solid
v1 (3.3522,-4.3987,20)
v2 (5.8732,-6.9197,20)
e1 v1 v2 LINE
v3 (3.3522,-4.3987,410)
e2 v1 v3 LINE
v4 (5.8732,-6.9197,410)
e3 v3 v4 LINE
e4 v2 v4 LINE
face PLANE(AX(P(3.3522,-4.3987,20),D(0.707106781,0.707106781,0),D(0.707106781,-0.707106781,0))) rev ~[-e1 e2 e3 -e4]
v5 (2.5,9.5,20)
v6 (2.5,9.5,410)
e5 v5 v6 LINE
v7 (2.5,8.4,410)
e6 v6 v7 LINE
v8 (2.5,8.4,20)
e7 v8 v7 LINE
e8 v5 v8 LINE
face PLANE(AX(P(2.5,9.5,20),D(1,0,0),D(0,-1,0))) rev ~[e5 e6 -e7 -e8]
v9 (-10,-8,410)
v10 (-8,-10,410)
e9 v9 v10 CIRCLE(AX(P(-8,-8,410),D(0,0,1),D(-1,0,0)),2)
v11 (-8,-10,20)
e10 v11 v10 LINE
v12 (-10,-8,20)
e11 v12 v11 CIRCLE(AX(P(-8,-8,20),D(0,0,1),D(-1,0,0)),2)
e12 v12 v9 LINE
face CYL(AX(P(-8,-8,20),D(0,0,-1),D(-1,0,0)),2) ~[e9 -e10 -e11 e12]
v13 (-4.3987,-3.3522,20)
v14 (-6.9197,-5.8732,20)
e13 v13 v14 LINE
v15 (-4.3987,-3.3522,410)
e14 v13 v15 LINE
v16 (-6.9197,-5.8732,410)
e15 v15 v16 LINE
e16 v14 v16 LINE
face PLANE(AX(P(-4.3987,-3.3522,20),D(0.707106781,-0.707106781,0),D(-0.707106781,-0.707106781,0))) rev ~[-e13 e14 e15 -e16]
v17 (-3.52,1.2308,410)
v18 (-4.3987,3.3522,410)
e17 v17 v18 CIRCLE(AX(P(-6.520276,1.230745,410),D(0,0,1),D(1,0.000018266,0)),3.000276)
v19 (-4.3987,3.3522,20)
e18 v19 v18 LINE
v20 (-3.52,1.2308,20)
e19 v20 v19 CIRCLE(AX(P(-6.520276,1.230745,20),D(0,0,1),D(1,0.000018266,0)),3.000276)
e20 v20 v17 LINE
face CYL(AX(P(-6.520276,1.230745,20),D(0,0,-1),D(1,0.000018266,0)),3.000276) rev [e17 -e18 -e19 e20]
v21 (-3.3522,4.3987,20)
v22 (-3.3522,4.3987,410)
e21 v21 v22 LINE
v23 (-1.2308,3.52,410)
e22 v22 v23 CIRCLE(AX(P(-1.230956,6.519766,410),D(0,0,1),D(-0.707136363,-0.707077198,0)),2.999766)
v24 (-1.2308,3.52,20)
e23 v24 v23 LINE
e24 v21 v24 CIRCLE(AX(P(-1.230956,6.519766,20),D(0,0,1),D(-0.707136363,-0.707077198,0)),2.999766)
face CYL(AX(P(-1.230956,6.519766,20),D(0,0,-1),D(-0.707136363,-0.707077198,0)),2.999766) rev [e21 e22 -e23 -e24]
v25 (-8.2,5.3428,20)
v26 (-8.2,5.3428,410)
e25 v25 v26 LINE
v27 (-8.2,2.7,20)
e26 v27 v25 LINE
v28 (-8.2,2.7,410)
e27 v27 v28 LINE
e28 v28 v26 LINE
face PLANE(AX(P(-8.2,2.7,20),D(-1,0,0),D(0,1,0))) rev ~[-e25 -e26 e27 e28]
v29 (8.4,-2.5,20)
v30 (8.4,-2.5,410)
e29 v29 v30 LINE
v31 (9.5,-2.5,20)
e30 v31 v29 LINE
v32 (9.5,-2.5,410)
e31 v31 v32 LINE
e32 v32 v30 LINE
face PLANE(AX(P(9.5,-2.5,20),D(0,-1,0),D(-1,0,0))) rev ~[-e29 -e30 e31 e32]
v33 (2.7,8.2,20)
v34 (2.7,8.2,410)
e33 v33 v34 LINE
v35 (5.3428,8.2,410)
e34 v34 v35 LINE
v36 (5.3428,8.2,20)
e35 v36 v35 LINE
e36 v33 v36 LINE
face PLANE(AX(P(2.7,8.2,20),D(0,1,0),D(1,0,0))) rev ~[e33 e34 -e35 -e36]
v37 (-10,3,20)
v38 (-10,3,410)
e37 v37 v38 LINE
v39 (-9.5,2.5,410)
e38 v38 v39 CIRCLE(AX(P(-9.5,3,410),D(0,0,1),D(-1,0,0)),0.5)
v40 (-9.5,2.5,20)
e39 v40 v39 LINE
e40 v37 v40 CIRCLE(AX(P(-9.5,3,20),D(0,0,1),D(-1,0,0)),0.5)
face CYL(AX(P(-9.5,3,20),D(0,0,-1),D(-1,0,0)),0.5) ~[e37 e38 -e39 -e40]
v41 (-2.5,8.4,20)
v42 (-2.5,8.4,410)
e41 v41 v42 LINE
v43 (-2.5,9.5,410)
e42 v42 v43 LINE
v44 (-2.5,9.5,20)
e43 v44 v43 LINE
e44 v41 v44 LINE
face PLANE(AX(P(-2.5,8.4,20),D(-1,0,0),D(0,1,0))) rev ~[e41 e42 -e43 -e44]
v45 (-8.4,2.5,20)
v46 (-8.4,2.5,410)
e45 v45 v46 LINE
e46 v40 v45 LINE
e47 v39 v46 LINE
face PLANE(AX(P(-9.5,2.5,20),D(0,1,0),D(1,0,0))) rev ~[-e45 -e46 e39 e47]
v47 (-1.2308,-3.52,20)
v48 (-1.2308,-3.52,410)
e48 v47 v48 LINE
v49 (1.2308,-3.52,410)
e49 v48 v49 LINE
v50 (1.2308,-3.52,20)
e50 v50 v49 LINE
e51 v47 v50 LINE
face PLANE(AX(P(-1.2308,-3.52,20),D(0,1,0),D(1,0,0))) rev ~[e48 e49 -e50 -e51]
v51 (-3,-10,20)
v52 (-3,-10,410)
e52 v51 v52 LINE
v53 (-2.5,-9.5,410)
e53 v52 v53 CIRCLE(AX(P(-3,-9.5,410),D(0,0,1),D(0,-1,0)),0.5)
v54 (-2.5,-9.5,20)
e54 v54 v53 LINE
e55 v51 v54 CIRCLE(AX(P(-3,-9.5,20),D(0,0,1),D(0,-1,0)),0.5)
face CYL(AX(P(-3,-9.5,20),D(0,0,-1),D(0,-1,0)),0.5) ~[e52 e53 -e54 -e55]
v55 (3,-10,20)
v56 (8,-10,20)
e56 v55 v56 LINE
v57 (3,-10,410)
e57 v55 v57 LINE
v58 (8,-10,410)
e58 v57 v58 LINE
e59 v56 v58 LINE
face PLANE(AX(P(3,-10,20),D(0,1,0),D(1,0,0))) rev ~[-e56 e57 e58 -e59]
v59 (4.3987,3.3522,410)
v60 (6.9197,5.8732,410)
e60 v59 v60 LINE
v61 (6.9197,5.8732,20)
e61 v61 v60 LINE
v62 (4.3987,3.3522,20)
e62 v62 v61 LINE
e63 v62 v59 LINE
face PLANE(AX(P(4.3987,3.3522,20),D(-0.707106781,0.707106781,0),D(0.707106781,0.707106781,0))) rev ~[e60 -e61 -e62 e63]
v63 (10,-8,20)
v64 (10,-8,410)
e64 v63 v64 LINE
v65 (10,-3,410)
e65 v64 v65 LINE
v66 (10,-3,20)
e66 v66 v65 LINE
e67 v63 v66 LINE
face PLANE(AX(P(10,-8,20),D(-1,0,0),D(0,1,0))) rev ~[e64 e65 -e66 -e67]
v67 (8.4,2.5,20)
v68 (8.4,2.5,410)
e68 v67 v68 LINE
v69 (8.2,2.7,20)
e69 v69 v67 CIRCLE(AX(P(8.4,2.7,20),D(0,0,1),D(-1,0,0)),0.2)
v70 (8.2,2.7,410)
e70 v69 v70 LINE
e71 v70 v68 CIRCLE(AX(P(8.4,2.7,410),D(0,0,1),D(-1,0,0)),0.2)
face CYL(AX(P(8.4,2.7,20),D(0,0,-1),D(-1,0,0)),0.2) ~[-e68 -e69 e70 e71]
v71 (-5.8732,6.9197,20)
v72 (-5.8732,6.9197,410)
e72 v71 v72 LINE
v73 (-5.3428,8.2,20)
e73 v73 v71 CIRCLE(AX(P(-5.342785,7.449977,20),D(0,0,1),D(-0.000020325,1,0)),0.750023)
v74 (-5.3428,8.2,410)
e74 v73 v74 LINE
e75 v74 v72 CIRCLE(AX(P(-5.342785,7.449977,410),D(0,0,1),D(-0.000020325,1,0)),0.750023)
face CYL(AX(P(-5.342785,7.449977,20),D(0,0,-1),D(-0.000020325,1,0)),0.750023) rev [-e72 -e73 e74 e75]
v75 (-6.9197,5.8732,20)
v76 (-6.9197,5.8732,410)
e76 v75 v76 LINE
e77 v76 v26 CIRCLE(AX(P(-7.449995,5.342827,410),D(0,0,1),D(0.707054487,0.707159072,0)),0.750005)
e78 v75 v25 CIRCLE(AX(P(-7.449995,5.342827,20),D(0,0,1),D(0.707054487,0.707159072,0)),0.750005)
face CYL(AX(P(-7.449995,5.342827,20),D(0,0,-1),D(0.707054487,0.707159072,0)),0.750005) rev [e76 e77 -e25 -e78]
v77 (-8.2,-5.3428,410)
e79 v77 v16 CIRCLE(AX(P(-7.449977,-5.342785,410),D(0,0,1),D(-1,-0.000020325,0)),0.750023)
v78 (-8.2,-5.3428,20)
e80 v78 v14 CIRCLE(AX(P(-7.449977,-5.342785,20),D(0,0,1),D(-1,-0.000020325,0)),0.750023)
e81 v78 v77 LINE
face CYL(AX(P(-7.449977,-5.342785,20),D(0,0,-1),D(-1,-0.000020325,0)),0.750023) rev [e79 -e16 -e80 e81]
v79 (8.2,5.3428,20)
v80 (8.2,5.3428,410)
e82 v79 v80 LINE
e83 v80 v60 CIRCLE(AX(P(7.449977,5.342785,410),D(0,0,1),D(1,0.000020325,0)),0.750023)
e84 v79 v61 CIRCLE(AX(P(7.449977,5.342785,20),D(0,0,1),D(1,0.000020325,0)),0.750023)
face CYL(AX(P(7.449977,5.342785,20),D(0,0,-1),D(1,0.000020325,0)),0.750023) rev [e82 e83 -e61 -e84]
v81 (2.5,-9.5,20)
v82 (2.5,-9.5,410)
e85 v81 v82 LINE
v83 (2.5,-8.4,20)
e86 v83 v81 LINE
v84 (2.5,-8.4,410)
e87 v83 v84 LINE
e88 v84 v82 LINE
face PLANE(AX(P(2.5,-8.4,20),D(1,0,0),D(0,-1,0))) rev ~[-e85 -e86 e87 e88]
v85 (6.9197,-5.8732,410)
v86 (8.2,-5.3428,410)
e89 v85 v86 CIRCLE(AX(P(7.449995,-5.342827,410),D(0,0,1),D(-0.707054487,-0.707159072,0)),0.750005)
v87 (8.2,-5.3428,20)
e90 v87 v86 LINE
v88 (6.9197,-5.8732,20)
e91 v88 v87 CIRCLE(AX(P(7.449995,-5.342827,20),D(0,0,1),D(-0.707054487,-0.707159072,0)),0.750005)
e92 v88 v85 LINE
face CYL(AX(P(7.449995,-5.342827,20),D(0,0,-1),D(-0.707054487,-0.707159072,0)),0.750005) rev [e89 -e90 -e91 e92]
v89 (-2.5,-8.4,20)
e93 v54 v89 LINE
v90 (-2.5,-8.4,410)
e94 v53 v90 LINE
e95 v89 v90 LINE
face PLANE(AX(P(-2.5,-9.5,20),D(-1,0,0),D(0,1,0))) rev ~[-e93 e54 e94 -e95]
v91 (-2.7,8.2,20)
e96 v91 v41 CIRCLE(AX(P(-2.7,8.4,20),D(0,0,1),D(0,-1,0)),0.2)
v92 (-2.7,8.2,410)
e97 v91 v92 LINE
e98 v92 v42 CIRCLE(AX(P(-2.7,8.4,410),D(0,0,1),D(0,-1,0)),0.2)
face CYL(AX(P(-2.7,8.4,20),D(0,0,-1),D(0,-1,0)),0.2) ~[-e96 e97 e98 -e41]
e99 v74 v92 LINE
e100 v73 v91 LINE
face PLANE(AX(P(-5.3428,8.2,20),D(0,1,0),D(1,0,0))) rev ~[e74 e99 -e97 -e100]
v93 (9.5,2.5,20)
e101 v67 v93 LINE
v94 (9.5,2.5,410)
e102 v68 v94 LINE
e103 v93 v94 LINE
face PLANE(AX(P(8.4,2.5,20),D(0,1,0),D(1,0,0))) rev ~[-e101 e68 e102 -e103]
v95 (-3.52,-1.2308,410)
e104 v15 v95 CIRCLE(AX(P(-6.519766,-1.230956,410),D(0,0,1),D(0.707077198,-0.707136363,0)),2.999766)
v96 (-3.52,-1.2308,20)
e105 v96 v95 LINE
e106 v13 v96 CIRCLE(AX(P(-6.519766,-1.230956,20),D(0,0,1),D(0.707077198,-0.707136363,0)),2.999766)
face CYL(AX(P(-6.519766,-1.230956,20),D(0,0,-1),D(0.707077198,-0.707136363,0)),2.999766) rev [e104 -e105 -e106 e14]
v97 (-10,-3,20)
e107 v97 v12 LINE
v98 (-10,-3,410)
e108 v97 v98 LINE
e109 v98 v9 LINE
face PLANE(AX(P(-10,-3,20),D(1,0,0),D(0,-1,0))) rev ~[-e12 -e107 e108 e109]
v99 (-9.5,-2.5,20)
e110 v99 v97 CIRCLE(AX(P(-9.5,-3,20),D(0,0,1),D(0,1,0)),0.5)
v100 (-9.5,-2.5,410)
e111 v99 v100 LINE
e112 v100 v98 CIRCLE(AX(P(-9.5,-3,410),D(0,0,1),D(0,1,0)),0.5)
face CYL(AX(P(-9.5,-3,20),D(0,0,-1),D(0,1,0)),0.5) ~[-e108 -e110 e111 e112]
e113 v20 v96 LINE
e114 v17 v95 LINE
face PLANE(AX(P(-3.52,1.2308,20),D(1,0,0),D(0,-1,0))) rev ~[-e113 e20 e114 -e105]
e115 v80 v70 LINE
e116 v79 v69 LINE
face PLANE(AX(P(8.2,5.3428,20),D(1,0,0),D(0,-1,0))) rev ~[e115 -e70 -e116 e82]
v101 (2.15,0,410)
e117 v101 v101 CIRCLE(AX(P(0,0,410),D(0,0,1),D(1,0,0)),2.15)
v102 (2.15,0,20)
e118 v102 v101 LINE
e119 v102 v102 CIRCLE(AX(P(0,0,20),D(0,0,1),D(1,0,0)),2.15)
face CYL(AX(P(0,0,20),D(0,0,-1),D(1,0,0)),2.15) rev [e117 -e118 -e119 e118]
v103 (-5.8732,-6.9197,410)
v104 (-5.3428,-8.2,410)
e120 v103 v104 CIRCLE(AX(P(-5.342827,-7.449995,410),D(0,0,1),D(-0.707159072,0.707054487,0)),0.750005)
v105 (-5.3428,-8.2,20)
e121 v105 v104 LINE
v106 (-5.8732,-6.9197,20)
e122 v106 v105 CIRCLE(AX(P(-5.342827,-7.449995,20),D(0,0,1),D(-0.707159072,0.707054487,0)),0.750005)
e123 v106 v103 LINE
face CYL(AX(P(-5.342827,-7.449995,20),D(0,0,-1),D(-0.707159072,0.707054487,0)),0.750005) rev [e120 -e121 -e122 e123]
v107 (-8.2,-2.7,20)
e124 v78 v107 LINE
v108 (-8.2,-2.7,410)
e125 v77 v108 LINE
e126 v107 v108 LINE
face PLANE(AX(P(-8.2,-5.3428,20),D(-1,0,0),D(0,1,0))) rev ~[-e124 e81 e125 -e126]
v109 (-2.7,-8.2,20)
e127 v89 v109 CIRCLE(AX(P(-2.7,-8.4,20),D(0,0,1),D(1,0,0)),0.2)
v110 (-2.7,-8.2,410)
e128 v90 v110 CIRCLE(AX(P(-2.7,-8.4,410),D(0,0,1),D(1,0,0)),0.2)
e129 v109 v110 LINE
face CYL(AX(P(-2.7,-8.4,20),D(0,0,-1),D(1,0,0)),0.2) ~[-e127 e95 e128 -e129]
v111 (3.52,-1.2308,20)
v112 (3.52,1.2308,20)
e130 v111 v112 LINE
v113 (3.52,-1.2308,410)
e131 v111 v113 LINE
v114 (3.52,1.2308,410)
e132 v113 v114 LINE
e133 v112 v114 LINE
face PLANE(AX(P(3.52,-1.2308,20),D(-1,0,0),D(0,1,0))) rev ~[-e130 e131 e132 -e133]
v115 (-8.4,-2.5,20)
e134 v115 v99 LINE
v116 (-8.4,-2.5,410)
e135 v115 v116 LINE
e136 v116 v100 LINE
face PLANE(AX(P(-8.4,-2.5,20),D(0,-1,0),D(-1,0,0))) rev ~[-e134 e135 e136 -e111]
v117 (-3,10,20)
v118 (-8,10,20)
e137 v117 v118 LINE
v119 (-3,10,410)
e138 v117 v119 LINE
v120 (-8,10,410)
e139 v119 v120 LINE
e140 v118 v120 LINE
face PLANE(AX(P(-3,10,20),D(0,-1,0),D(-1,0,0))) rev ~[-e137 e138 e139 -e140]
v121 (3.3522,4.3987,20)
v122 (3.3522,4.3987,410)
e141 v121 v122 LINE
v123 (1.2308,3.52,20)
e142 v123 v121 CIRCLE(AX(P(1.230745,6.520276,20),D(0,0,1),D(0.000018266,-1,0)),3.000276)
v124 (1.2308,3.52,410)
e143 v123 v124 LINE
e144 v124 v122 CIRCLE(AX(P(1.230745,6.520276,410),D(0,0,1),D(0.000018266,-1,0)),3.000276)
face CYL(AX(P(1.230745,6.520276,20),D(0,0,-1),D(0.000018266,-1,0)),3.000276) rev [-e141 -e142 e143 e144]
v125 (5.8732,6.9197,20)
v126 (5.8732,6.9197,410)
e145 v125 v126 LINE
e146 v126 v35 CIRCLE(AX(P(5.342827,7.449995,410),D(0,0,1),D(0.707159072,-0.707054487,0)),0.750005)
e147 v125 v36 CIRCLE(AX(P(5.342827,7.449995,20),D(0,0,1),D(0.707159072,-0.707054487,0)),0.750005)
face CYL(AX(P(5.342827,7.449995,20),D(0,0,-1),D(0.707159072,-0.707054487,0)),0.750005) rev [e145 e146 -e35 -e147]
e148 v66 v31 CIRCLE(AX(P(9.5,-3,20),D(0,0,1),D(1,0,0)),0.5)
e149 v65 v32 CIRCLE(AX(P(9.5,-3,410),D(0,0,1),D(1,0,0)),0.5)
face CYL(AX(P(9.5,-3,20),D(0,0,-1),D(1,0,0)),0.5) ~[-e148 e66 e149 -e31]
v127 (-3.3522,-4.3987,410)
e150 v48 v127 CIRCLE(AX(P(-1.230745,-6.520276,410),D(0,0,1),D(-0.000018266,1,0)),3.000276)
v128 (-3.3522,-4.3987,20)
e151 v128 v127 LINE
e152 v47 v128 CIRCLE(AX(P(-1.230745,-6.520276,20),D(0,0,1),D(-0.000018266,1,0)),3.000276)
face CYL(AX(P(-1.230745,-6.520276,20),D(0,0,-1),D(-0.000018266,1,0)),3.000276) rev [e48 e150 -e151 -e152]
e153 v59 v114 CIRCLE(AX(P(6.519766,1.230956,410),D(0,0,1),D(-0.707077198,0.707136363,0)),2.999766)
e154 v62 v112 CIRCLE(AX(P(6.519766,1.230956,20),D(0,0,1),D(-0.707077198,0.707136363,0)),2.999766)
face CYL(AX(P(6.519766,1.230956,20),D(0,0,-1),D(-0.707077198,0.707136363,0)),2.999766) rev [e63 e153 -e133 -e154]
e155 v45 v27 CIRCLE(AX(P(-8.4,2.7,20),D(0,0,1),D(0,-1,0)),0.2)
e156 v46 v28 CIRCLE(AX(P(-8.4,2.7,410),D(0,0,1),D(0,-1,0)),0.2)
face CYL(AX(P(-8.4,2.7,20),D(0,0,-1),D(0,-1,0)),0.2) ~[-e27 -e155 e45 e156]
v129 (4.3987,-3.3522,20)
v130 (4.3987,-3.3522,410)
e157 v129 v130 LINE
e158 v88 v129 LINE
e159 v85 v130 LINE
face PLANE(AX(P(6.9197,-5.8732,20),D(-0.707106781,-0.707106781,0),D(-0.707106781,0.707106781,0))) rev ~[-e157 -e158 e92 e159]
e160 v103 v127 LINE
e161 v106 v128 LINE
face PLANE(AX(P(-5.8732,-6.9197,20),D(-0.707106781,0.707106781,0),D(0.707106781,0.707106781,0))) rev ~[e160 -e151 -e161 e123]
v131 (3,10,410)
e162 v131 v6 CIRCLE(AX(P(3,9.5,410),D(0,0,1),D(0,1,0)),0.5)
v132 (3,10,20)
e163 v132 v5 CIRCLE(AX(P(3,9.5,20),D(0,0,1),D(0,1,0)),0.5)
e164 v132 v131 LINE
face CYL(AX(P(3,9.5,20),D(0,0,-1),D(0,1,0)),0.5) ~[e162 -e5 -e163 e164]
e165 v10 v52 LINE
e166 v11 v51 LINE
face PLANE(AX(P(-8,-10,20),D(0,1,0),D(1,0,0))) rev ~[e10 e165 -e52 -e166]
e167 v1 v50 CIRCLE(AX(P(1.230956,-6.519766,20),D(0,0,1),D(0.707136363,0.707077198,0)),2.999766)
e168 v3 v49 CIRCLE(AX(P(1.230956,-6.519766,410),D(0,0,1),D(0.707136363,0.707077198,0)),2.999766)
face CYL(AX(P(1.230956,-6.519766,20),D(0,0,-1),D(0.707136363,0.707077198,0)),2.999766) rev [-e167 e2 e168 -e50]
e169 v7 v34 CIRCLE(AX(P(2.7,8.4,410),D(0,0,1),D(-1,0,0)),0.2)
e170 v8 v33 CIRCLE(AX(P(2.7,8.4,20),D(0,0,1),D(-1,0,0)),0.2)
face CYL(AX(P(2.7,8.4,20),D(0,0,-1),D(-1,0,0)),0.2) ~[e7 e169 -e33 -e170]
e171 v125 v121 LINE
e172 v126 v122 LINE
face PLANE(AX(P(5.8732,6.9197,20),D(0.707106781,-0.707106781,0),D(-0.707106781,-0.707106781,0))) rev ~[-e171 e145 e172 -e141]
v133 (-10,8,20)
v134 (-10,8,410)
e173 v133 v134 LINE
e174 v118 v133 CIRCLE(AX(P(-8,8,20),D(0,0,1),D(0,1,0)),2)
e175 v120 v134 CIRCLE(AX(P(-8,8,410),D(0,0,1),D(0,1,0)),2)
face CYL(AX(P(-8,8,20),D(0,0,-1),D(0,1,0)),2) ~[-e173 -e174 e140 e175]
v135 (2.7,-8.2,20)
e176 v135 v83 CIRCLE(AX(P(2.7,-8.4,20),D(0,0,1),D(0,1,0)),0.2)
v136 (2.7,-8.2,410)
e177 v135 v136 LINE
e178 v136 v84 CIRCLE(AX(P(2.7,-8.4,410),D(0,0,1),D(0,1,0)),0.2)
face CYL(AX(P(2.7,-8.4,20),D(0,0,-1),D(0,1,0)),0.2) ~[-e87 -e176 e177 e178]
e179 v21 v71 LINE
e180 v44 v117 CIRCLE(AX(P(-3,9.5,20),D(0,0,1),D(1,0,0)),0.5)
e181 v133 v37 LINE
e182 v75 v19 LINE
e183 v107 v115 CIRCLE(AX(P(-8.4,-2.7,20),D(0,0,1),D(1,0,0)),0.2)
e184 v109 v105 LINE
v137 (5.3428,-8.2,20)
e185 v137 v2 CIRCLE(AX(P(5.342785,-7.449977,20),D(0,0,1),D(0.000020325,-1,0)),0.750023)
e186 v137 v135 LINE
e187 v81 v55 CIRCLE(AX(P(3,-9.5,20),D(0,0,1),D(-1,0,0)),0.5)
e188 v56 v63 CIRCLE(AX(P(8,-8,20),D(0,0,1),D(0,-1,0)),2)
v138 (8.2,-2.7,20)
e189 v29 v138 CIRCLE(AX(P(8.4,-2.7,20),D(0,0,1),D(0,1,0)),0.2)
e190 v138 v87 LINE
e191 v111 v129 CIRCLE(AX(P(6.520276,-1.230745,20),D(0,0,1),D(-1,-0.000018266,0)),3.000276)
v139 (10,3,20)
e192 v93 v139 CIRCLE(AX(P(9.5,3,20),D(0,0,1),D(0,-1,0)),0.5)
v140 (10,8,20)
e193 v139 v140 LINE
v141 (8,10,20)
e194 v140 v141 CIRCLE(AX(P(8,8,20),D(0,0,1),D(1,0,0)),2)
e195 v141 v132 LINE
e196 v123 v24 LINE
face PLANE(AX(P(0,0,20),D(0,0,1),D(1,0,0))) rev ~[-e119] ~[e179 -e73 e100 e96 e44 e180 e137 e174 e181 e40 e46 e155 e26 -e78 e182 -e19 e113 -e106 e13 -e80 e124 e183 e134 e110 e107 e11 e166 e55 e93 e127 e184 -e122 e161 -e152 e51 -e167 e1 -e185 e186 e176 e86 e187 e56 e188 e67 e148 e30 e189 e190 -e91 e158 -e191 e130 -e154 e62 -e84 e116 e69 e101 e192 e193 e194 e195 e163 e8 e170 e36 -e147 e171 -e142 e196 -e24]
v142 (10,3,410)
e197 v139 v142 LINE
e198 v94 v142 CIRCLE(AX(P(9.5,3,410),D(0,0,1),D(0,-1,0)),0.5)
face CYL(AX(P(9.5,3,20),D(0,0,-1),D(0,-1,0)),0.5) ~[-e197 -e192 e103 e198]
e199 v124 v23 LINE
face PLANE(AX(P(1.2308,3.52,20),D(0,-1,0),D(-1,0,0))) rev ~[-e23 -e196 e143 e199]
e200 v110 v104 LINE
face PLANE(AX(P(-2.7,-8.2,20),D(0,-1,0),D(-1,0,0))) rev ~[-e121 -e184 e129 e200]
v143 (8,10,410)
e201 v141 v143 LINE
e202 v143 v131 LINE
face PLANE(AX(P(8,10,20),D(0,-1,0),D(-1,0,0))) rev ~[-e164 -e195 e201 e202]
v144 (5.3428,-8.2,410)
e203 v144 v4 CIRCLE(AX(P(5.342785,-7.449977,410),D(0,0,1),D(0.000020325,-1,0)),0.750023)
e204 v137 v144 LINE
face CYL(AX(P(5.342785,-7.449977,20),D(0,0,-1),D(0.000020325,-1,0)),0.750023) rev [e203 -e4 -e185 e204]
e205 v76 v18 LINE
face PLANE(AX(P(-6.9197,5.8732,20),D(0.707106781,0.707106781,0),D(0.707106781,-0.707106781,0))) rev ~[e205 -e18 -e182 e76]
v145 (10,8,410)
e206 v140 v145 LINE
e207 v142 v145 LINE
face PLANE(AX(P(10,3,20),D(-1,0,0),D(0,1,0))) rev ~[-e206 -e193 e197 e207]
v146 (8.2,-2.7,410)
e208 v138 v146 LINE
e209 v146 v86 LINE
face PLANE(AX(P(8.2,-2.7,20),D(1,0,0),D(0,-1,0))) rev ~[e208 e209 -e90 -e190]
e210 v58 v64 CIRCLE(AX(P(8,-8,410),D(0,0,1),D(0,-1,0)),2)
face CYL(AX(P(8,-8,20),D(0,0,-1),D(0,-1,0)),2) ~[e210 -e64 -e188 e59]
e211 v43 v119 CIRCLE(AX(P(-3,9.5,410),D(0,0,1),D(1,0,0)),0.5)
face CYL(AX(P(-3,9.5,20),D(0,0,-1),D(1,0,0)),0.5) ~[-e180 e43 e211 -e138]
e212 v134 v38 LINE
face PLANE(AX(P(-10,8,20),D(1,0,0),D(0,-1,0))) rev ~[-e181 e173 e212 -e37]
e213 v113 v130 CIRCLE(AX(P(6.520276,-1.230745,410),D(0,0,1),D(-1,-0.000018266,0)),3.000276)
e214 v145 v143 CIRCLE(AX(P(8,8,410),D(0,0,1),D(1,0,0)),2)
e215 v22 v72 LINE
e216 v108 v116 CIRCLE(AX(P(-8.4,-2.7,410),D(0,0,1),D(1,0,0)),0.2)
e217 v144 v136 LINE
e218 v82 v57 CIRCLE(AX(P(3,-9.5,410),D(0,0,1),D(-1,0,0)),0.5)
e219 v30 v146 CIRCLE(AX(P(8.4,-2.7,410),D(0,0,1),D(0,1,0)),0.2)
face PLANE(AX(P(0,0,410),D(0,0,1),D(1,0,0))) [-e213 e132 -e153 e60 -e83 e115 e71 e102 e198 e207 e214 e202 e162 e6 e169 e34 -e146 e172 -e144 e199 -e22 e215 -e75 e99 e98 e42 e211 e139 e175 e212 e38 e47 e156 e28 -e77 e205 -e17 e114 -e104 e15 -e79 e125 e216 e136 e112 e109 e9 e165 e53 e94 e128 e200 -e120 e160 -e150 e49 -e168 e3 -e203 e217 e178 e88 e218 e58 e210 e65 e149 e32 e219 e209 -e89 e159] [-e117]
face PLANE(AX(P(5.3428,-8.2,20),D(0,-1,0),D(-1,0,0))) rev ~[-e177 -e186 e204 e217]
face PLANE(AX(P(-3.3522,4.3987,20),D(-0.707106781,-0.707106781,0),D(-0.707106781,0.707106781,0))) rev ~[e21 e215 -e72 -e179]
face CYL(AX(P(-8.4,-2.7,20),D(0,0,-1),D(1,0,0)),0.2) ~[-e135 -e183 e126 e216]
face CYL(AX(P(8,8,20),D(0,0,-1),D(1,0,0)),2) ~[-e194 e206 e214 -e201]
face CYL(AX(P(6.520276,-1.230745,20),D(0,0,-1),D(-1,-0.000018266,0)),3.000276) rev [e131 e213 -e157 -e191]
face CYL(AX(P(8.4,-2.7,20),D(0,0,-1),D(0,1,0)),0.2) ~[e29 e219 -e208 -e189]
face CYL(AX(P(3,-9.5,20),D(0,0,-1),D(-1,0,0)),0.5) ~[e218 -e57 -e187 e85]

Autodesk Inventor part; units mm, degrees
ref_plane "Płaszczyzna początkowa" through (0, 0, 20) normal (0, 0, 1) x (1, 0, 0)
ref_plane "Płaszczyzna końcowa" through (0, 0, 410) normal (0, 0, 1) x (1, 0, 0)
sketch "Szkic" plane through (0, 0, 0) normal (0, 0, 1) x (1, 0, 0)
  arc A0 (8, -10) -> (10, -8) centre (8, -8) ccw
  line L0 (10, -8) -> (10, -3)
  arc A1 (10, -3) -> (9.5, -2.5) centre (9.5, -3) ccw
  line L1 (9.5, -2.5) -> (8.4, -2.5)
  arc A2 (8.4, -2.5) -> (8.2, -2.7) centre (8.4, -2.7) ccw
  line L2 (8.2, -2.7) -> (8.2, -5.3428)
  arc A3 (6.9197, -5.8732) -> (8.2, -5.3428) centre (7.45, -5.3428) ccw
  line L3 (6.9197, -5.8732) -> (4.3987, -3.3522)
  arc A4 (3.52, -1.2308) -> (4.3987, -3.3522) centre (6.52, -1.2308) ccw
  line L4 (3.52, -1.2308) -> (3.52, 1.2308)
  arc A5 (4.3987, 3.3522) -> (3.52, 1.2308) centre (6.52, 1.2308) ccw
  line L5 (4.3987, 3.3522) -> (6.9197, 5.8732)
  arc A6 (8.2, 5.3428) -> (6.9197, 5.8732) centre (7.45, 5.3428) ccw
  line L6 (8.2, 5.3428) -> (8.2, 2.7)
  arc A7 (8.2, 2.7) -> (8.4, 2.5) centre (8.4, 2.7) ccw
  line L7 (8.4, 2.5) -> (9.5, 2.5)
  arc A8 (9.5, 2.5) -> (10, 3) centre (9.5, 3) ccw
  line L8 (10, 3) -> (10, 8)
  arc A9 (10, 8) -> (8, 10) centre (8, 8) ccw
  line L9 (8, 10) -> (3, 10)
  arc A10 (3, 10) -> (2.5, 9.5) centre (3, 9.5) ccw
  line L10 (2.5, 9.5) -> (2.5, 8.4)
  arc A11 (2.5, 8.4) -> (2.7, 8.2) centre (2.7, 8.4) ccw
  line L11 (2.7, 8.2) -> (5.3428, 8.2)
  arc A12 (5.8732, 6.9197) -> (5.3428, 8.2) centre (5.3428, 7.45) ccw
  line L12 (5.8732, 6.9197) -> (3.3522, 4.3987)
  arc A13 (1.2308, 3.52) -> (3.3522, 4.3987) centre (1.2308, 6.52) ccw
  line L13 (1.2308, 3.52) -> (-1.2308, 3.52)
  arc A14 (-3.3522, 4.3987) -> (-1.2308, 3.52) centre (-1.2308, 6.52) ccw
  line L14 (-3.3522, 4.3987) -> (-5.8732, 6.9197)
  arc A15 (-5.3428, 8.2) -> (-5.8732, 6.9197) centre (-5.3428, 7.45) ccw
  line L15 (-5.3428, 8.2) -> (-2.7, 8.2)
  arc A16 (-2.7, 8.2) -> (-2.5, 8.4) centre (-2.7, 8.4) ccw
  line L16 (-2.5, 8.4) -> (-2.5, 9.5)
  arc A17 (-2.5, 9.5) -> (-3, 10) centre (-3, 9.5) ccw
  line L17 (-3, 10) -> (-8, 10)
  arc A18 (-8, 10) -> (-10, 8) centre (-8, 8) ccw
  line L18 (-10, 8) -> (-10, 3)
  arc A19 (-10, 3) -> (-9.5, 2.5) centre (-9.5, 3) ccw
  line L19 (-9.5, 2.5) -> (-8.4, 2.5)
  arc A20 (-8.4, 2.5) -> (-8.2, 2.7) centre (-8.4, 2.7) ccw
  line L20 (-8.2, 2.7) -> (-8.2, 5.3428)
  arc A21 (-6.9197, 5.8732) -> (-8.2, 5.3428) centre (-7.45, 5.3428) ccw
  line L21 (-6.9197, 5.8732) -> (-4.3987, 3.3522)
  arc A22 (-3.52, 1.2308) -> (-4.3987, 3.3522) centre (-6.52, 1.2308) ccw
  line L22 (-3.52, 1.2308) -> (-3.52, -1.2308)
  arc A23 (-4.3987, -3.3522) -> (-3.52, -1.2308) centre (-6.52, -1.2308) ccw
  line L23 (-4.3987, -3.3522) -> (-6.9197, -5.8732)
  arc A24 (-8.2, -5.3428) -> (-6.9197, -5.8732) centre (-7.45, -5.3428) ccw
  line L24 (-8.2, -5.3428) -> (-8.2, -2.7)
  arc A25 (-8.2, -2.7) -> (-8.4, -2.5) centre (-8.4, -2.7) ccw
  line L25 (-8.4, -2.5) -> (-9.5, -2.5)
  arc A26 (-9.5, -2.5) -> (-10, -3) centre (-9.5, -3) ccw
  line L26 (-10, -3) -> (-10, -8)
  arc A27 (-10, -8) -> (-8, -10) centre (-8, -8) ccw
  line L27 (-8, -10) -> (-3, -10)
  arc A28 (-3, -10) -> (-2.5, -9.5) centre (-3, -9.5) ccw
  line L28 (-2.5, -9.5) -> (-2.5, -8.4)
  arc A29 (-2.5, -8.4) -> (-2.7, -8.2) centre (-2.7, -8.4) ccw
  line L29 (-2.7, -8.2) -> (-5.3428, -8.2)
  arc A30 (-5.8732, -6.9197) -> (-5.3428, -8.2) centre (-5.3428, -7.45) ccw
  line L30 (-5.8732, -6.9197) -> (-3.3522, -4.3987)
  arc A31 (-1.2308, -3.52) -> (-3.3522, -4.3987) centre (-1.2308, -6.52) ccw
  line L31 (-1.2308, -3.52) -> (1.2308, -3.52)
  arc A32 (3.3522, -4.3987) -> (1.2308, -3.52) centre (1.2308, -6.52) ccw
  line L32 (3.3522, -4.3987) -> (5.8732, -6.9197)
  arc A33 (5.3428, -8.2) -> (5.8732, -6.9197) centre (5.3428, -7.45) ccw
  line L33 (5.3428, -8.2) -> (2.7, -8.2)
  arc A34 (2.7, -8.2) -> (2.5, -8.4) centre (2.7, -8.4) ccw
  line L34 (2.5, -8.4) -> (2.5, -9.5)
  arc A35 (2.5, -9.5) -> (3, -10) centre (3, -9.5) ccw
  line L35 (3, -10) -> (8, -10)
  circle A36 centre (0, 0) radius 2.15
  point P0 (10, -10)
extrude "Bryła" add sketch "Szkic" along normal up to surface (390 mm away) from surface at 20
sketch "Szkic4" plane through (0, 0, 0) normal (0, 0, 1) x (1, 0, 0)
  line L0 (0, 0) -> (10, 0)
ref_plane "Płaszczyzna konstrukcyjna4" through (0, 0, 0) normal (0, -1, 0) x (1, 0, 0)
sketch "Szkic5" plane through (0, 0, 0) normal (0, -1, 0) x (1, 0, 0)
  line L0 (-2, 20) -> (12, 20)
  line L1 (-2, 410) -> (12, 410)
  dimension "d7" = 390
ref_plane "Płaszczyzna konstrukcyjna5" through (3, 450, 410) normal (0, 0, 1) x (1, 0, 0)
split "Podział1" plane through (3, 450, 410) removes the side toward (0, 0, 1)
ref_plane "Płaszczyzna konstrukcyjna6" through (8, 440, 20) normal (0, 0, -1) x (-1, 0, 0)
split "Podział2" plane through (8, 440, 20) removes the side toward (0, 0, -1)
equation "\"G_L\" = d7"
properties part number "COTS_ARMA_AR3701_20x20_Alu_Extr_00000002" material "Aluminium 6061-AHC"
